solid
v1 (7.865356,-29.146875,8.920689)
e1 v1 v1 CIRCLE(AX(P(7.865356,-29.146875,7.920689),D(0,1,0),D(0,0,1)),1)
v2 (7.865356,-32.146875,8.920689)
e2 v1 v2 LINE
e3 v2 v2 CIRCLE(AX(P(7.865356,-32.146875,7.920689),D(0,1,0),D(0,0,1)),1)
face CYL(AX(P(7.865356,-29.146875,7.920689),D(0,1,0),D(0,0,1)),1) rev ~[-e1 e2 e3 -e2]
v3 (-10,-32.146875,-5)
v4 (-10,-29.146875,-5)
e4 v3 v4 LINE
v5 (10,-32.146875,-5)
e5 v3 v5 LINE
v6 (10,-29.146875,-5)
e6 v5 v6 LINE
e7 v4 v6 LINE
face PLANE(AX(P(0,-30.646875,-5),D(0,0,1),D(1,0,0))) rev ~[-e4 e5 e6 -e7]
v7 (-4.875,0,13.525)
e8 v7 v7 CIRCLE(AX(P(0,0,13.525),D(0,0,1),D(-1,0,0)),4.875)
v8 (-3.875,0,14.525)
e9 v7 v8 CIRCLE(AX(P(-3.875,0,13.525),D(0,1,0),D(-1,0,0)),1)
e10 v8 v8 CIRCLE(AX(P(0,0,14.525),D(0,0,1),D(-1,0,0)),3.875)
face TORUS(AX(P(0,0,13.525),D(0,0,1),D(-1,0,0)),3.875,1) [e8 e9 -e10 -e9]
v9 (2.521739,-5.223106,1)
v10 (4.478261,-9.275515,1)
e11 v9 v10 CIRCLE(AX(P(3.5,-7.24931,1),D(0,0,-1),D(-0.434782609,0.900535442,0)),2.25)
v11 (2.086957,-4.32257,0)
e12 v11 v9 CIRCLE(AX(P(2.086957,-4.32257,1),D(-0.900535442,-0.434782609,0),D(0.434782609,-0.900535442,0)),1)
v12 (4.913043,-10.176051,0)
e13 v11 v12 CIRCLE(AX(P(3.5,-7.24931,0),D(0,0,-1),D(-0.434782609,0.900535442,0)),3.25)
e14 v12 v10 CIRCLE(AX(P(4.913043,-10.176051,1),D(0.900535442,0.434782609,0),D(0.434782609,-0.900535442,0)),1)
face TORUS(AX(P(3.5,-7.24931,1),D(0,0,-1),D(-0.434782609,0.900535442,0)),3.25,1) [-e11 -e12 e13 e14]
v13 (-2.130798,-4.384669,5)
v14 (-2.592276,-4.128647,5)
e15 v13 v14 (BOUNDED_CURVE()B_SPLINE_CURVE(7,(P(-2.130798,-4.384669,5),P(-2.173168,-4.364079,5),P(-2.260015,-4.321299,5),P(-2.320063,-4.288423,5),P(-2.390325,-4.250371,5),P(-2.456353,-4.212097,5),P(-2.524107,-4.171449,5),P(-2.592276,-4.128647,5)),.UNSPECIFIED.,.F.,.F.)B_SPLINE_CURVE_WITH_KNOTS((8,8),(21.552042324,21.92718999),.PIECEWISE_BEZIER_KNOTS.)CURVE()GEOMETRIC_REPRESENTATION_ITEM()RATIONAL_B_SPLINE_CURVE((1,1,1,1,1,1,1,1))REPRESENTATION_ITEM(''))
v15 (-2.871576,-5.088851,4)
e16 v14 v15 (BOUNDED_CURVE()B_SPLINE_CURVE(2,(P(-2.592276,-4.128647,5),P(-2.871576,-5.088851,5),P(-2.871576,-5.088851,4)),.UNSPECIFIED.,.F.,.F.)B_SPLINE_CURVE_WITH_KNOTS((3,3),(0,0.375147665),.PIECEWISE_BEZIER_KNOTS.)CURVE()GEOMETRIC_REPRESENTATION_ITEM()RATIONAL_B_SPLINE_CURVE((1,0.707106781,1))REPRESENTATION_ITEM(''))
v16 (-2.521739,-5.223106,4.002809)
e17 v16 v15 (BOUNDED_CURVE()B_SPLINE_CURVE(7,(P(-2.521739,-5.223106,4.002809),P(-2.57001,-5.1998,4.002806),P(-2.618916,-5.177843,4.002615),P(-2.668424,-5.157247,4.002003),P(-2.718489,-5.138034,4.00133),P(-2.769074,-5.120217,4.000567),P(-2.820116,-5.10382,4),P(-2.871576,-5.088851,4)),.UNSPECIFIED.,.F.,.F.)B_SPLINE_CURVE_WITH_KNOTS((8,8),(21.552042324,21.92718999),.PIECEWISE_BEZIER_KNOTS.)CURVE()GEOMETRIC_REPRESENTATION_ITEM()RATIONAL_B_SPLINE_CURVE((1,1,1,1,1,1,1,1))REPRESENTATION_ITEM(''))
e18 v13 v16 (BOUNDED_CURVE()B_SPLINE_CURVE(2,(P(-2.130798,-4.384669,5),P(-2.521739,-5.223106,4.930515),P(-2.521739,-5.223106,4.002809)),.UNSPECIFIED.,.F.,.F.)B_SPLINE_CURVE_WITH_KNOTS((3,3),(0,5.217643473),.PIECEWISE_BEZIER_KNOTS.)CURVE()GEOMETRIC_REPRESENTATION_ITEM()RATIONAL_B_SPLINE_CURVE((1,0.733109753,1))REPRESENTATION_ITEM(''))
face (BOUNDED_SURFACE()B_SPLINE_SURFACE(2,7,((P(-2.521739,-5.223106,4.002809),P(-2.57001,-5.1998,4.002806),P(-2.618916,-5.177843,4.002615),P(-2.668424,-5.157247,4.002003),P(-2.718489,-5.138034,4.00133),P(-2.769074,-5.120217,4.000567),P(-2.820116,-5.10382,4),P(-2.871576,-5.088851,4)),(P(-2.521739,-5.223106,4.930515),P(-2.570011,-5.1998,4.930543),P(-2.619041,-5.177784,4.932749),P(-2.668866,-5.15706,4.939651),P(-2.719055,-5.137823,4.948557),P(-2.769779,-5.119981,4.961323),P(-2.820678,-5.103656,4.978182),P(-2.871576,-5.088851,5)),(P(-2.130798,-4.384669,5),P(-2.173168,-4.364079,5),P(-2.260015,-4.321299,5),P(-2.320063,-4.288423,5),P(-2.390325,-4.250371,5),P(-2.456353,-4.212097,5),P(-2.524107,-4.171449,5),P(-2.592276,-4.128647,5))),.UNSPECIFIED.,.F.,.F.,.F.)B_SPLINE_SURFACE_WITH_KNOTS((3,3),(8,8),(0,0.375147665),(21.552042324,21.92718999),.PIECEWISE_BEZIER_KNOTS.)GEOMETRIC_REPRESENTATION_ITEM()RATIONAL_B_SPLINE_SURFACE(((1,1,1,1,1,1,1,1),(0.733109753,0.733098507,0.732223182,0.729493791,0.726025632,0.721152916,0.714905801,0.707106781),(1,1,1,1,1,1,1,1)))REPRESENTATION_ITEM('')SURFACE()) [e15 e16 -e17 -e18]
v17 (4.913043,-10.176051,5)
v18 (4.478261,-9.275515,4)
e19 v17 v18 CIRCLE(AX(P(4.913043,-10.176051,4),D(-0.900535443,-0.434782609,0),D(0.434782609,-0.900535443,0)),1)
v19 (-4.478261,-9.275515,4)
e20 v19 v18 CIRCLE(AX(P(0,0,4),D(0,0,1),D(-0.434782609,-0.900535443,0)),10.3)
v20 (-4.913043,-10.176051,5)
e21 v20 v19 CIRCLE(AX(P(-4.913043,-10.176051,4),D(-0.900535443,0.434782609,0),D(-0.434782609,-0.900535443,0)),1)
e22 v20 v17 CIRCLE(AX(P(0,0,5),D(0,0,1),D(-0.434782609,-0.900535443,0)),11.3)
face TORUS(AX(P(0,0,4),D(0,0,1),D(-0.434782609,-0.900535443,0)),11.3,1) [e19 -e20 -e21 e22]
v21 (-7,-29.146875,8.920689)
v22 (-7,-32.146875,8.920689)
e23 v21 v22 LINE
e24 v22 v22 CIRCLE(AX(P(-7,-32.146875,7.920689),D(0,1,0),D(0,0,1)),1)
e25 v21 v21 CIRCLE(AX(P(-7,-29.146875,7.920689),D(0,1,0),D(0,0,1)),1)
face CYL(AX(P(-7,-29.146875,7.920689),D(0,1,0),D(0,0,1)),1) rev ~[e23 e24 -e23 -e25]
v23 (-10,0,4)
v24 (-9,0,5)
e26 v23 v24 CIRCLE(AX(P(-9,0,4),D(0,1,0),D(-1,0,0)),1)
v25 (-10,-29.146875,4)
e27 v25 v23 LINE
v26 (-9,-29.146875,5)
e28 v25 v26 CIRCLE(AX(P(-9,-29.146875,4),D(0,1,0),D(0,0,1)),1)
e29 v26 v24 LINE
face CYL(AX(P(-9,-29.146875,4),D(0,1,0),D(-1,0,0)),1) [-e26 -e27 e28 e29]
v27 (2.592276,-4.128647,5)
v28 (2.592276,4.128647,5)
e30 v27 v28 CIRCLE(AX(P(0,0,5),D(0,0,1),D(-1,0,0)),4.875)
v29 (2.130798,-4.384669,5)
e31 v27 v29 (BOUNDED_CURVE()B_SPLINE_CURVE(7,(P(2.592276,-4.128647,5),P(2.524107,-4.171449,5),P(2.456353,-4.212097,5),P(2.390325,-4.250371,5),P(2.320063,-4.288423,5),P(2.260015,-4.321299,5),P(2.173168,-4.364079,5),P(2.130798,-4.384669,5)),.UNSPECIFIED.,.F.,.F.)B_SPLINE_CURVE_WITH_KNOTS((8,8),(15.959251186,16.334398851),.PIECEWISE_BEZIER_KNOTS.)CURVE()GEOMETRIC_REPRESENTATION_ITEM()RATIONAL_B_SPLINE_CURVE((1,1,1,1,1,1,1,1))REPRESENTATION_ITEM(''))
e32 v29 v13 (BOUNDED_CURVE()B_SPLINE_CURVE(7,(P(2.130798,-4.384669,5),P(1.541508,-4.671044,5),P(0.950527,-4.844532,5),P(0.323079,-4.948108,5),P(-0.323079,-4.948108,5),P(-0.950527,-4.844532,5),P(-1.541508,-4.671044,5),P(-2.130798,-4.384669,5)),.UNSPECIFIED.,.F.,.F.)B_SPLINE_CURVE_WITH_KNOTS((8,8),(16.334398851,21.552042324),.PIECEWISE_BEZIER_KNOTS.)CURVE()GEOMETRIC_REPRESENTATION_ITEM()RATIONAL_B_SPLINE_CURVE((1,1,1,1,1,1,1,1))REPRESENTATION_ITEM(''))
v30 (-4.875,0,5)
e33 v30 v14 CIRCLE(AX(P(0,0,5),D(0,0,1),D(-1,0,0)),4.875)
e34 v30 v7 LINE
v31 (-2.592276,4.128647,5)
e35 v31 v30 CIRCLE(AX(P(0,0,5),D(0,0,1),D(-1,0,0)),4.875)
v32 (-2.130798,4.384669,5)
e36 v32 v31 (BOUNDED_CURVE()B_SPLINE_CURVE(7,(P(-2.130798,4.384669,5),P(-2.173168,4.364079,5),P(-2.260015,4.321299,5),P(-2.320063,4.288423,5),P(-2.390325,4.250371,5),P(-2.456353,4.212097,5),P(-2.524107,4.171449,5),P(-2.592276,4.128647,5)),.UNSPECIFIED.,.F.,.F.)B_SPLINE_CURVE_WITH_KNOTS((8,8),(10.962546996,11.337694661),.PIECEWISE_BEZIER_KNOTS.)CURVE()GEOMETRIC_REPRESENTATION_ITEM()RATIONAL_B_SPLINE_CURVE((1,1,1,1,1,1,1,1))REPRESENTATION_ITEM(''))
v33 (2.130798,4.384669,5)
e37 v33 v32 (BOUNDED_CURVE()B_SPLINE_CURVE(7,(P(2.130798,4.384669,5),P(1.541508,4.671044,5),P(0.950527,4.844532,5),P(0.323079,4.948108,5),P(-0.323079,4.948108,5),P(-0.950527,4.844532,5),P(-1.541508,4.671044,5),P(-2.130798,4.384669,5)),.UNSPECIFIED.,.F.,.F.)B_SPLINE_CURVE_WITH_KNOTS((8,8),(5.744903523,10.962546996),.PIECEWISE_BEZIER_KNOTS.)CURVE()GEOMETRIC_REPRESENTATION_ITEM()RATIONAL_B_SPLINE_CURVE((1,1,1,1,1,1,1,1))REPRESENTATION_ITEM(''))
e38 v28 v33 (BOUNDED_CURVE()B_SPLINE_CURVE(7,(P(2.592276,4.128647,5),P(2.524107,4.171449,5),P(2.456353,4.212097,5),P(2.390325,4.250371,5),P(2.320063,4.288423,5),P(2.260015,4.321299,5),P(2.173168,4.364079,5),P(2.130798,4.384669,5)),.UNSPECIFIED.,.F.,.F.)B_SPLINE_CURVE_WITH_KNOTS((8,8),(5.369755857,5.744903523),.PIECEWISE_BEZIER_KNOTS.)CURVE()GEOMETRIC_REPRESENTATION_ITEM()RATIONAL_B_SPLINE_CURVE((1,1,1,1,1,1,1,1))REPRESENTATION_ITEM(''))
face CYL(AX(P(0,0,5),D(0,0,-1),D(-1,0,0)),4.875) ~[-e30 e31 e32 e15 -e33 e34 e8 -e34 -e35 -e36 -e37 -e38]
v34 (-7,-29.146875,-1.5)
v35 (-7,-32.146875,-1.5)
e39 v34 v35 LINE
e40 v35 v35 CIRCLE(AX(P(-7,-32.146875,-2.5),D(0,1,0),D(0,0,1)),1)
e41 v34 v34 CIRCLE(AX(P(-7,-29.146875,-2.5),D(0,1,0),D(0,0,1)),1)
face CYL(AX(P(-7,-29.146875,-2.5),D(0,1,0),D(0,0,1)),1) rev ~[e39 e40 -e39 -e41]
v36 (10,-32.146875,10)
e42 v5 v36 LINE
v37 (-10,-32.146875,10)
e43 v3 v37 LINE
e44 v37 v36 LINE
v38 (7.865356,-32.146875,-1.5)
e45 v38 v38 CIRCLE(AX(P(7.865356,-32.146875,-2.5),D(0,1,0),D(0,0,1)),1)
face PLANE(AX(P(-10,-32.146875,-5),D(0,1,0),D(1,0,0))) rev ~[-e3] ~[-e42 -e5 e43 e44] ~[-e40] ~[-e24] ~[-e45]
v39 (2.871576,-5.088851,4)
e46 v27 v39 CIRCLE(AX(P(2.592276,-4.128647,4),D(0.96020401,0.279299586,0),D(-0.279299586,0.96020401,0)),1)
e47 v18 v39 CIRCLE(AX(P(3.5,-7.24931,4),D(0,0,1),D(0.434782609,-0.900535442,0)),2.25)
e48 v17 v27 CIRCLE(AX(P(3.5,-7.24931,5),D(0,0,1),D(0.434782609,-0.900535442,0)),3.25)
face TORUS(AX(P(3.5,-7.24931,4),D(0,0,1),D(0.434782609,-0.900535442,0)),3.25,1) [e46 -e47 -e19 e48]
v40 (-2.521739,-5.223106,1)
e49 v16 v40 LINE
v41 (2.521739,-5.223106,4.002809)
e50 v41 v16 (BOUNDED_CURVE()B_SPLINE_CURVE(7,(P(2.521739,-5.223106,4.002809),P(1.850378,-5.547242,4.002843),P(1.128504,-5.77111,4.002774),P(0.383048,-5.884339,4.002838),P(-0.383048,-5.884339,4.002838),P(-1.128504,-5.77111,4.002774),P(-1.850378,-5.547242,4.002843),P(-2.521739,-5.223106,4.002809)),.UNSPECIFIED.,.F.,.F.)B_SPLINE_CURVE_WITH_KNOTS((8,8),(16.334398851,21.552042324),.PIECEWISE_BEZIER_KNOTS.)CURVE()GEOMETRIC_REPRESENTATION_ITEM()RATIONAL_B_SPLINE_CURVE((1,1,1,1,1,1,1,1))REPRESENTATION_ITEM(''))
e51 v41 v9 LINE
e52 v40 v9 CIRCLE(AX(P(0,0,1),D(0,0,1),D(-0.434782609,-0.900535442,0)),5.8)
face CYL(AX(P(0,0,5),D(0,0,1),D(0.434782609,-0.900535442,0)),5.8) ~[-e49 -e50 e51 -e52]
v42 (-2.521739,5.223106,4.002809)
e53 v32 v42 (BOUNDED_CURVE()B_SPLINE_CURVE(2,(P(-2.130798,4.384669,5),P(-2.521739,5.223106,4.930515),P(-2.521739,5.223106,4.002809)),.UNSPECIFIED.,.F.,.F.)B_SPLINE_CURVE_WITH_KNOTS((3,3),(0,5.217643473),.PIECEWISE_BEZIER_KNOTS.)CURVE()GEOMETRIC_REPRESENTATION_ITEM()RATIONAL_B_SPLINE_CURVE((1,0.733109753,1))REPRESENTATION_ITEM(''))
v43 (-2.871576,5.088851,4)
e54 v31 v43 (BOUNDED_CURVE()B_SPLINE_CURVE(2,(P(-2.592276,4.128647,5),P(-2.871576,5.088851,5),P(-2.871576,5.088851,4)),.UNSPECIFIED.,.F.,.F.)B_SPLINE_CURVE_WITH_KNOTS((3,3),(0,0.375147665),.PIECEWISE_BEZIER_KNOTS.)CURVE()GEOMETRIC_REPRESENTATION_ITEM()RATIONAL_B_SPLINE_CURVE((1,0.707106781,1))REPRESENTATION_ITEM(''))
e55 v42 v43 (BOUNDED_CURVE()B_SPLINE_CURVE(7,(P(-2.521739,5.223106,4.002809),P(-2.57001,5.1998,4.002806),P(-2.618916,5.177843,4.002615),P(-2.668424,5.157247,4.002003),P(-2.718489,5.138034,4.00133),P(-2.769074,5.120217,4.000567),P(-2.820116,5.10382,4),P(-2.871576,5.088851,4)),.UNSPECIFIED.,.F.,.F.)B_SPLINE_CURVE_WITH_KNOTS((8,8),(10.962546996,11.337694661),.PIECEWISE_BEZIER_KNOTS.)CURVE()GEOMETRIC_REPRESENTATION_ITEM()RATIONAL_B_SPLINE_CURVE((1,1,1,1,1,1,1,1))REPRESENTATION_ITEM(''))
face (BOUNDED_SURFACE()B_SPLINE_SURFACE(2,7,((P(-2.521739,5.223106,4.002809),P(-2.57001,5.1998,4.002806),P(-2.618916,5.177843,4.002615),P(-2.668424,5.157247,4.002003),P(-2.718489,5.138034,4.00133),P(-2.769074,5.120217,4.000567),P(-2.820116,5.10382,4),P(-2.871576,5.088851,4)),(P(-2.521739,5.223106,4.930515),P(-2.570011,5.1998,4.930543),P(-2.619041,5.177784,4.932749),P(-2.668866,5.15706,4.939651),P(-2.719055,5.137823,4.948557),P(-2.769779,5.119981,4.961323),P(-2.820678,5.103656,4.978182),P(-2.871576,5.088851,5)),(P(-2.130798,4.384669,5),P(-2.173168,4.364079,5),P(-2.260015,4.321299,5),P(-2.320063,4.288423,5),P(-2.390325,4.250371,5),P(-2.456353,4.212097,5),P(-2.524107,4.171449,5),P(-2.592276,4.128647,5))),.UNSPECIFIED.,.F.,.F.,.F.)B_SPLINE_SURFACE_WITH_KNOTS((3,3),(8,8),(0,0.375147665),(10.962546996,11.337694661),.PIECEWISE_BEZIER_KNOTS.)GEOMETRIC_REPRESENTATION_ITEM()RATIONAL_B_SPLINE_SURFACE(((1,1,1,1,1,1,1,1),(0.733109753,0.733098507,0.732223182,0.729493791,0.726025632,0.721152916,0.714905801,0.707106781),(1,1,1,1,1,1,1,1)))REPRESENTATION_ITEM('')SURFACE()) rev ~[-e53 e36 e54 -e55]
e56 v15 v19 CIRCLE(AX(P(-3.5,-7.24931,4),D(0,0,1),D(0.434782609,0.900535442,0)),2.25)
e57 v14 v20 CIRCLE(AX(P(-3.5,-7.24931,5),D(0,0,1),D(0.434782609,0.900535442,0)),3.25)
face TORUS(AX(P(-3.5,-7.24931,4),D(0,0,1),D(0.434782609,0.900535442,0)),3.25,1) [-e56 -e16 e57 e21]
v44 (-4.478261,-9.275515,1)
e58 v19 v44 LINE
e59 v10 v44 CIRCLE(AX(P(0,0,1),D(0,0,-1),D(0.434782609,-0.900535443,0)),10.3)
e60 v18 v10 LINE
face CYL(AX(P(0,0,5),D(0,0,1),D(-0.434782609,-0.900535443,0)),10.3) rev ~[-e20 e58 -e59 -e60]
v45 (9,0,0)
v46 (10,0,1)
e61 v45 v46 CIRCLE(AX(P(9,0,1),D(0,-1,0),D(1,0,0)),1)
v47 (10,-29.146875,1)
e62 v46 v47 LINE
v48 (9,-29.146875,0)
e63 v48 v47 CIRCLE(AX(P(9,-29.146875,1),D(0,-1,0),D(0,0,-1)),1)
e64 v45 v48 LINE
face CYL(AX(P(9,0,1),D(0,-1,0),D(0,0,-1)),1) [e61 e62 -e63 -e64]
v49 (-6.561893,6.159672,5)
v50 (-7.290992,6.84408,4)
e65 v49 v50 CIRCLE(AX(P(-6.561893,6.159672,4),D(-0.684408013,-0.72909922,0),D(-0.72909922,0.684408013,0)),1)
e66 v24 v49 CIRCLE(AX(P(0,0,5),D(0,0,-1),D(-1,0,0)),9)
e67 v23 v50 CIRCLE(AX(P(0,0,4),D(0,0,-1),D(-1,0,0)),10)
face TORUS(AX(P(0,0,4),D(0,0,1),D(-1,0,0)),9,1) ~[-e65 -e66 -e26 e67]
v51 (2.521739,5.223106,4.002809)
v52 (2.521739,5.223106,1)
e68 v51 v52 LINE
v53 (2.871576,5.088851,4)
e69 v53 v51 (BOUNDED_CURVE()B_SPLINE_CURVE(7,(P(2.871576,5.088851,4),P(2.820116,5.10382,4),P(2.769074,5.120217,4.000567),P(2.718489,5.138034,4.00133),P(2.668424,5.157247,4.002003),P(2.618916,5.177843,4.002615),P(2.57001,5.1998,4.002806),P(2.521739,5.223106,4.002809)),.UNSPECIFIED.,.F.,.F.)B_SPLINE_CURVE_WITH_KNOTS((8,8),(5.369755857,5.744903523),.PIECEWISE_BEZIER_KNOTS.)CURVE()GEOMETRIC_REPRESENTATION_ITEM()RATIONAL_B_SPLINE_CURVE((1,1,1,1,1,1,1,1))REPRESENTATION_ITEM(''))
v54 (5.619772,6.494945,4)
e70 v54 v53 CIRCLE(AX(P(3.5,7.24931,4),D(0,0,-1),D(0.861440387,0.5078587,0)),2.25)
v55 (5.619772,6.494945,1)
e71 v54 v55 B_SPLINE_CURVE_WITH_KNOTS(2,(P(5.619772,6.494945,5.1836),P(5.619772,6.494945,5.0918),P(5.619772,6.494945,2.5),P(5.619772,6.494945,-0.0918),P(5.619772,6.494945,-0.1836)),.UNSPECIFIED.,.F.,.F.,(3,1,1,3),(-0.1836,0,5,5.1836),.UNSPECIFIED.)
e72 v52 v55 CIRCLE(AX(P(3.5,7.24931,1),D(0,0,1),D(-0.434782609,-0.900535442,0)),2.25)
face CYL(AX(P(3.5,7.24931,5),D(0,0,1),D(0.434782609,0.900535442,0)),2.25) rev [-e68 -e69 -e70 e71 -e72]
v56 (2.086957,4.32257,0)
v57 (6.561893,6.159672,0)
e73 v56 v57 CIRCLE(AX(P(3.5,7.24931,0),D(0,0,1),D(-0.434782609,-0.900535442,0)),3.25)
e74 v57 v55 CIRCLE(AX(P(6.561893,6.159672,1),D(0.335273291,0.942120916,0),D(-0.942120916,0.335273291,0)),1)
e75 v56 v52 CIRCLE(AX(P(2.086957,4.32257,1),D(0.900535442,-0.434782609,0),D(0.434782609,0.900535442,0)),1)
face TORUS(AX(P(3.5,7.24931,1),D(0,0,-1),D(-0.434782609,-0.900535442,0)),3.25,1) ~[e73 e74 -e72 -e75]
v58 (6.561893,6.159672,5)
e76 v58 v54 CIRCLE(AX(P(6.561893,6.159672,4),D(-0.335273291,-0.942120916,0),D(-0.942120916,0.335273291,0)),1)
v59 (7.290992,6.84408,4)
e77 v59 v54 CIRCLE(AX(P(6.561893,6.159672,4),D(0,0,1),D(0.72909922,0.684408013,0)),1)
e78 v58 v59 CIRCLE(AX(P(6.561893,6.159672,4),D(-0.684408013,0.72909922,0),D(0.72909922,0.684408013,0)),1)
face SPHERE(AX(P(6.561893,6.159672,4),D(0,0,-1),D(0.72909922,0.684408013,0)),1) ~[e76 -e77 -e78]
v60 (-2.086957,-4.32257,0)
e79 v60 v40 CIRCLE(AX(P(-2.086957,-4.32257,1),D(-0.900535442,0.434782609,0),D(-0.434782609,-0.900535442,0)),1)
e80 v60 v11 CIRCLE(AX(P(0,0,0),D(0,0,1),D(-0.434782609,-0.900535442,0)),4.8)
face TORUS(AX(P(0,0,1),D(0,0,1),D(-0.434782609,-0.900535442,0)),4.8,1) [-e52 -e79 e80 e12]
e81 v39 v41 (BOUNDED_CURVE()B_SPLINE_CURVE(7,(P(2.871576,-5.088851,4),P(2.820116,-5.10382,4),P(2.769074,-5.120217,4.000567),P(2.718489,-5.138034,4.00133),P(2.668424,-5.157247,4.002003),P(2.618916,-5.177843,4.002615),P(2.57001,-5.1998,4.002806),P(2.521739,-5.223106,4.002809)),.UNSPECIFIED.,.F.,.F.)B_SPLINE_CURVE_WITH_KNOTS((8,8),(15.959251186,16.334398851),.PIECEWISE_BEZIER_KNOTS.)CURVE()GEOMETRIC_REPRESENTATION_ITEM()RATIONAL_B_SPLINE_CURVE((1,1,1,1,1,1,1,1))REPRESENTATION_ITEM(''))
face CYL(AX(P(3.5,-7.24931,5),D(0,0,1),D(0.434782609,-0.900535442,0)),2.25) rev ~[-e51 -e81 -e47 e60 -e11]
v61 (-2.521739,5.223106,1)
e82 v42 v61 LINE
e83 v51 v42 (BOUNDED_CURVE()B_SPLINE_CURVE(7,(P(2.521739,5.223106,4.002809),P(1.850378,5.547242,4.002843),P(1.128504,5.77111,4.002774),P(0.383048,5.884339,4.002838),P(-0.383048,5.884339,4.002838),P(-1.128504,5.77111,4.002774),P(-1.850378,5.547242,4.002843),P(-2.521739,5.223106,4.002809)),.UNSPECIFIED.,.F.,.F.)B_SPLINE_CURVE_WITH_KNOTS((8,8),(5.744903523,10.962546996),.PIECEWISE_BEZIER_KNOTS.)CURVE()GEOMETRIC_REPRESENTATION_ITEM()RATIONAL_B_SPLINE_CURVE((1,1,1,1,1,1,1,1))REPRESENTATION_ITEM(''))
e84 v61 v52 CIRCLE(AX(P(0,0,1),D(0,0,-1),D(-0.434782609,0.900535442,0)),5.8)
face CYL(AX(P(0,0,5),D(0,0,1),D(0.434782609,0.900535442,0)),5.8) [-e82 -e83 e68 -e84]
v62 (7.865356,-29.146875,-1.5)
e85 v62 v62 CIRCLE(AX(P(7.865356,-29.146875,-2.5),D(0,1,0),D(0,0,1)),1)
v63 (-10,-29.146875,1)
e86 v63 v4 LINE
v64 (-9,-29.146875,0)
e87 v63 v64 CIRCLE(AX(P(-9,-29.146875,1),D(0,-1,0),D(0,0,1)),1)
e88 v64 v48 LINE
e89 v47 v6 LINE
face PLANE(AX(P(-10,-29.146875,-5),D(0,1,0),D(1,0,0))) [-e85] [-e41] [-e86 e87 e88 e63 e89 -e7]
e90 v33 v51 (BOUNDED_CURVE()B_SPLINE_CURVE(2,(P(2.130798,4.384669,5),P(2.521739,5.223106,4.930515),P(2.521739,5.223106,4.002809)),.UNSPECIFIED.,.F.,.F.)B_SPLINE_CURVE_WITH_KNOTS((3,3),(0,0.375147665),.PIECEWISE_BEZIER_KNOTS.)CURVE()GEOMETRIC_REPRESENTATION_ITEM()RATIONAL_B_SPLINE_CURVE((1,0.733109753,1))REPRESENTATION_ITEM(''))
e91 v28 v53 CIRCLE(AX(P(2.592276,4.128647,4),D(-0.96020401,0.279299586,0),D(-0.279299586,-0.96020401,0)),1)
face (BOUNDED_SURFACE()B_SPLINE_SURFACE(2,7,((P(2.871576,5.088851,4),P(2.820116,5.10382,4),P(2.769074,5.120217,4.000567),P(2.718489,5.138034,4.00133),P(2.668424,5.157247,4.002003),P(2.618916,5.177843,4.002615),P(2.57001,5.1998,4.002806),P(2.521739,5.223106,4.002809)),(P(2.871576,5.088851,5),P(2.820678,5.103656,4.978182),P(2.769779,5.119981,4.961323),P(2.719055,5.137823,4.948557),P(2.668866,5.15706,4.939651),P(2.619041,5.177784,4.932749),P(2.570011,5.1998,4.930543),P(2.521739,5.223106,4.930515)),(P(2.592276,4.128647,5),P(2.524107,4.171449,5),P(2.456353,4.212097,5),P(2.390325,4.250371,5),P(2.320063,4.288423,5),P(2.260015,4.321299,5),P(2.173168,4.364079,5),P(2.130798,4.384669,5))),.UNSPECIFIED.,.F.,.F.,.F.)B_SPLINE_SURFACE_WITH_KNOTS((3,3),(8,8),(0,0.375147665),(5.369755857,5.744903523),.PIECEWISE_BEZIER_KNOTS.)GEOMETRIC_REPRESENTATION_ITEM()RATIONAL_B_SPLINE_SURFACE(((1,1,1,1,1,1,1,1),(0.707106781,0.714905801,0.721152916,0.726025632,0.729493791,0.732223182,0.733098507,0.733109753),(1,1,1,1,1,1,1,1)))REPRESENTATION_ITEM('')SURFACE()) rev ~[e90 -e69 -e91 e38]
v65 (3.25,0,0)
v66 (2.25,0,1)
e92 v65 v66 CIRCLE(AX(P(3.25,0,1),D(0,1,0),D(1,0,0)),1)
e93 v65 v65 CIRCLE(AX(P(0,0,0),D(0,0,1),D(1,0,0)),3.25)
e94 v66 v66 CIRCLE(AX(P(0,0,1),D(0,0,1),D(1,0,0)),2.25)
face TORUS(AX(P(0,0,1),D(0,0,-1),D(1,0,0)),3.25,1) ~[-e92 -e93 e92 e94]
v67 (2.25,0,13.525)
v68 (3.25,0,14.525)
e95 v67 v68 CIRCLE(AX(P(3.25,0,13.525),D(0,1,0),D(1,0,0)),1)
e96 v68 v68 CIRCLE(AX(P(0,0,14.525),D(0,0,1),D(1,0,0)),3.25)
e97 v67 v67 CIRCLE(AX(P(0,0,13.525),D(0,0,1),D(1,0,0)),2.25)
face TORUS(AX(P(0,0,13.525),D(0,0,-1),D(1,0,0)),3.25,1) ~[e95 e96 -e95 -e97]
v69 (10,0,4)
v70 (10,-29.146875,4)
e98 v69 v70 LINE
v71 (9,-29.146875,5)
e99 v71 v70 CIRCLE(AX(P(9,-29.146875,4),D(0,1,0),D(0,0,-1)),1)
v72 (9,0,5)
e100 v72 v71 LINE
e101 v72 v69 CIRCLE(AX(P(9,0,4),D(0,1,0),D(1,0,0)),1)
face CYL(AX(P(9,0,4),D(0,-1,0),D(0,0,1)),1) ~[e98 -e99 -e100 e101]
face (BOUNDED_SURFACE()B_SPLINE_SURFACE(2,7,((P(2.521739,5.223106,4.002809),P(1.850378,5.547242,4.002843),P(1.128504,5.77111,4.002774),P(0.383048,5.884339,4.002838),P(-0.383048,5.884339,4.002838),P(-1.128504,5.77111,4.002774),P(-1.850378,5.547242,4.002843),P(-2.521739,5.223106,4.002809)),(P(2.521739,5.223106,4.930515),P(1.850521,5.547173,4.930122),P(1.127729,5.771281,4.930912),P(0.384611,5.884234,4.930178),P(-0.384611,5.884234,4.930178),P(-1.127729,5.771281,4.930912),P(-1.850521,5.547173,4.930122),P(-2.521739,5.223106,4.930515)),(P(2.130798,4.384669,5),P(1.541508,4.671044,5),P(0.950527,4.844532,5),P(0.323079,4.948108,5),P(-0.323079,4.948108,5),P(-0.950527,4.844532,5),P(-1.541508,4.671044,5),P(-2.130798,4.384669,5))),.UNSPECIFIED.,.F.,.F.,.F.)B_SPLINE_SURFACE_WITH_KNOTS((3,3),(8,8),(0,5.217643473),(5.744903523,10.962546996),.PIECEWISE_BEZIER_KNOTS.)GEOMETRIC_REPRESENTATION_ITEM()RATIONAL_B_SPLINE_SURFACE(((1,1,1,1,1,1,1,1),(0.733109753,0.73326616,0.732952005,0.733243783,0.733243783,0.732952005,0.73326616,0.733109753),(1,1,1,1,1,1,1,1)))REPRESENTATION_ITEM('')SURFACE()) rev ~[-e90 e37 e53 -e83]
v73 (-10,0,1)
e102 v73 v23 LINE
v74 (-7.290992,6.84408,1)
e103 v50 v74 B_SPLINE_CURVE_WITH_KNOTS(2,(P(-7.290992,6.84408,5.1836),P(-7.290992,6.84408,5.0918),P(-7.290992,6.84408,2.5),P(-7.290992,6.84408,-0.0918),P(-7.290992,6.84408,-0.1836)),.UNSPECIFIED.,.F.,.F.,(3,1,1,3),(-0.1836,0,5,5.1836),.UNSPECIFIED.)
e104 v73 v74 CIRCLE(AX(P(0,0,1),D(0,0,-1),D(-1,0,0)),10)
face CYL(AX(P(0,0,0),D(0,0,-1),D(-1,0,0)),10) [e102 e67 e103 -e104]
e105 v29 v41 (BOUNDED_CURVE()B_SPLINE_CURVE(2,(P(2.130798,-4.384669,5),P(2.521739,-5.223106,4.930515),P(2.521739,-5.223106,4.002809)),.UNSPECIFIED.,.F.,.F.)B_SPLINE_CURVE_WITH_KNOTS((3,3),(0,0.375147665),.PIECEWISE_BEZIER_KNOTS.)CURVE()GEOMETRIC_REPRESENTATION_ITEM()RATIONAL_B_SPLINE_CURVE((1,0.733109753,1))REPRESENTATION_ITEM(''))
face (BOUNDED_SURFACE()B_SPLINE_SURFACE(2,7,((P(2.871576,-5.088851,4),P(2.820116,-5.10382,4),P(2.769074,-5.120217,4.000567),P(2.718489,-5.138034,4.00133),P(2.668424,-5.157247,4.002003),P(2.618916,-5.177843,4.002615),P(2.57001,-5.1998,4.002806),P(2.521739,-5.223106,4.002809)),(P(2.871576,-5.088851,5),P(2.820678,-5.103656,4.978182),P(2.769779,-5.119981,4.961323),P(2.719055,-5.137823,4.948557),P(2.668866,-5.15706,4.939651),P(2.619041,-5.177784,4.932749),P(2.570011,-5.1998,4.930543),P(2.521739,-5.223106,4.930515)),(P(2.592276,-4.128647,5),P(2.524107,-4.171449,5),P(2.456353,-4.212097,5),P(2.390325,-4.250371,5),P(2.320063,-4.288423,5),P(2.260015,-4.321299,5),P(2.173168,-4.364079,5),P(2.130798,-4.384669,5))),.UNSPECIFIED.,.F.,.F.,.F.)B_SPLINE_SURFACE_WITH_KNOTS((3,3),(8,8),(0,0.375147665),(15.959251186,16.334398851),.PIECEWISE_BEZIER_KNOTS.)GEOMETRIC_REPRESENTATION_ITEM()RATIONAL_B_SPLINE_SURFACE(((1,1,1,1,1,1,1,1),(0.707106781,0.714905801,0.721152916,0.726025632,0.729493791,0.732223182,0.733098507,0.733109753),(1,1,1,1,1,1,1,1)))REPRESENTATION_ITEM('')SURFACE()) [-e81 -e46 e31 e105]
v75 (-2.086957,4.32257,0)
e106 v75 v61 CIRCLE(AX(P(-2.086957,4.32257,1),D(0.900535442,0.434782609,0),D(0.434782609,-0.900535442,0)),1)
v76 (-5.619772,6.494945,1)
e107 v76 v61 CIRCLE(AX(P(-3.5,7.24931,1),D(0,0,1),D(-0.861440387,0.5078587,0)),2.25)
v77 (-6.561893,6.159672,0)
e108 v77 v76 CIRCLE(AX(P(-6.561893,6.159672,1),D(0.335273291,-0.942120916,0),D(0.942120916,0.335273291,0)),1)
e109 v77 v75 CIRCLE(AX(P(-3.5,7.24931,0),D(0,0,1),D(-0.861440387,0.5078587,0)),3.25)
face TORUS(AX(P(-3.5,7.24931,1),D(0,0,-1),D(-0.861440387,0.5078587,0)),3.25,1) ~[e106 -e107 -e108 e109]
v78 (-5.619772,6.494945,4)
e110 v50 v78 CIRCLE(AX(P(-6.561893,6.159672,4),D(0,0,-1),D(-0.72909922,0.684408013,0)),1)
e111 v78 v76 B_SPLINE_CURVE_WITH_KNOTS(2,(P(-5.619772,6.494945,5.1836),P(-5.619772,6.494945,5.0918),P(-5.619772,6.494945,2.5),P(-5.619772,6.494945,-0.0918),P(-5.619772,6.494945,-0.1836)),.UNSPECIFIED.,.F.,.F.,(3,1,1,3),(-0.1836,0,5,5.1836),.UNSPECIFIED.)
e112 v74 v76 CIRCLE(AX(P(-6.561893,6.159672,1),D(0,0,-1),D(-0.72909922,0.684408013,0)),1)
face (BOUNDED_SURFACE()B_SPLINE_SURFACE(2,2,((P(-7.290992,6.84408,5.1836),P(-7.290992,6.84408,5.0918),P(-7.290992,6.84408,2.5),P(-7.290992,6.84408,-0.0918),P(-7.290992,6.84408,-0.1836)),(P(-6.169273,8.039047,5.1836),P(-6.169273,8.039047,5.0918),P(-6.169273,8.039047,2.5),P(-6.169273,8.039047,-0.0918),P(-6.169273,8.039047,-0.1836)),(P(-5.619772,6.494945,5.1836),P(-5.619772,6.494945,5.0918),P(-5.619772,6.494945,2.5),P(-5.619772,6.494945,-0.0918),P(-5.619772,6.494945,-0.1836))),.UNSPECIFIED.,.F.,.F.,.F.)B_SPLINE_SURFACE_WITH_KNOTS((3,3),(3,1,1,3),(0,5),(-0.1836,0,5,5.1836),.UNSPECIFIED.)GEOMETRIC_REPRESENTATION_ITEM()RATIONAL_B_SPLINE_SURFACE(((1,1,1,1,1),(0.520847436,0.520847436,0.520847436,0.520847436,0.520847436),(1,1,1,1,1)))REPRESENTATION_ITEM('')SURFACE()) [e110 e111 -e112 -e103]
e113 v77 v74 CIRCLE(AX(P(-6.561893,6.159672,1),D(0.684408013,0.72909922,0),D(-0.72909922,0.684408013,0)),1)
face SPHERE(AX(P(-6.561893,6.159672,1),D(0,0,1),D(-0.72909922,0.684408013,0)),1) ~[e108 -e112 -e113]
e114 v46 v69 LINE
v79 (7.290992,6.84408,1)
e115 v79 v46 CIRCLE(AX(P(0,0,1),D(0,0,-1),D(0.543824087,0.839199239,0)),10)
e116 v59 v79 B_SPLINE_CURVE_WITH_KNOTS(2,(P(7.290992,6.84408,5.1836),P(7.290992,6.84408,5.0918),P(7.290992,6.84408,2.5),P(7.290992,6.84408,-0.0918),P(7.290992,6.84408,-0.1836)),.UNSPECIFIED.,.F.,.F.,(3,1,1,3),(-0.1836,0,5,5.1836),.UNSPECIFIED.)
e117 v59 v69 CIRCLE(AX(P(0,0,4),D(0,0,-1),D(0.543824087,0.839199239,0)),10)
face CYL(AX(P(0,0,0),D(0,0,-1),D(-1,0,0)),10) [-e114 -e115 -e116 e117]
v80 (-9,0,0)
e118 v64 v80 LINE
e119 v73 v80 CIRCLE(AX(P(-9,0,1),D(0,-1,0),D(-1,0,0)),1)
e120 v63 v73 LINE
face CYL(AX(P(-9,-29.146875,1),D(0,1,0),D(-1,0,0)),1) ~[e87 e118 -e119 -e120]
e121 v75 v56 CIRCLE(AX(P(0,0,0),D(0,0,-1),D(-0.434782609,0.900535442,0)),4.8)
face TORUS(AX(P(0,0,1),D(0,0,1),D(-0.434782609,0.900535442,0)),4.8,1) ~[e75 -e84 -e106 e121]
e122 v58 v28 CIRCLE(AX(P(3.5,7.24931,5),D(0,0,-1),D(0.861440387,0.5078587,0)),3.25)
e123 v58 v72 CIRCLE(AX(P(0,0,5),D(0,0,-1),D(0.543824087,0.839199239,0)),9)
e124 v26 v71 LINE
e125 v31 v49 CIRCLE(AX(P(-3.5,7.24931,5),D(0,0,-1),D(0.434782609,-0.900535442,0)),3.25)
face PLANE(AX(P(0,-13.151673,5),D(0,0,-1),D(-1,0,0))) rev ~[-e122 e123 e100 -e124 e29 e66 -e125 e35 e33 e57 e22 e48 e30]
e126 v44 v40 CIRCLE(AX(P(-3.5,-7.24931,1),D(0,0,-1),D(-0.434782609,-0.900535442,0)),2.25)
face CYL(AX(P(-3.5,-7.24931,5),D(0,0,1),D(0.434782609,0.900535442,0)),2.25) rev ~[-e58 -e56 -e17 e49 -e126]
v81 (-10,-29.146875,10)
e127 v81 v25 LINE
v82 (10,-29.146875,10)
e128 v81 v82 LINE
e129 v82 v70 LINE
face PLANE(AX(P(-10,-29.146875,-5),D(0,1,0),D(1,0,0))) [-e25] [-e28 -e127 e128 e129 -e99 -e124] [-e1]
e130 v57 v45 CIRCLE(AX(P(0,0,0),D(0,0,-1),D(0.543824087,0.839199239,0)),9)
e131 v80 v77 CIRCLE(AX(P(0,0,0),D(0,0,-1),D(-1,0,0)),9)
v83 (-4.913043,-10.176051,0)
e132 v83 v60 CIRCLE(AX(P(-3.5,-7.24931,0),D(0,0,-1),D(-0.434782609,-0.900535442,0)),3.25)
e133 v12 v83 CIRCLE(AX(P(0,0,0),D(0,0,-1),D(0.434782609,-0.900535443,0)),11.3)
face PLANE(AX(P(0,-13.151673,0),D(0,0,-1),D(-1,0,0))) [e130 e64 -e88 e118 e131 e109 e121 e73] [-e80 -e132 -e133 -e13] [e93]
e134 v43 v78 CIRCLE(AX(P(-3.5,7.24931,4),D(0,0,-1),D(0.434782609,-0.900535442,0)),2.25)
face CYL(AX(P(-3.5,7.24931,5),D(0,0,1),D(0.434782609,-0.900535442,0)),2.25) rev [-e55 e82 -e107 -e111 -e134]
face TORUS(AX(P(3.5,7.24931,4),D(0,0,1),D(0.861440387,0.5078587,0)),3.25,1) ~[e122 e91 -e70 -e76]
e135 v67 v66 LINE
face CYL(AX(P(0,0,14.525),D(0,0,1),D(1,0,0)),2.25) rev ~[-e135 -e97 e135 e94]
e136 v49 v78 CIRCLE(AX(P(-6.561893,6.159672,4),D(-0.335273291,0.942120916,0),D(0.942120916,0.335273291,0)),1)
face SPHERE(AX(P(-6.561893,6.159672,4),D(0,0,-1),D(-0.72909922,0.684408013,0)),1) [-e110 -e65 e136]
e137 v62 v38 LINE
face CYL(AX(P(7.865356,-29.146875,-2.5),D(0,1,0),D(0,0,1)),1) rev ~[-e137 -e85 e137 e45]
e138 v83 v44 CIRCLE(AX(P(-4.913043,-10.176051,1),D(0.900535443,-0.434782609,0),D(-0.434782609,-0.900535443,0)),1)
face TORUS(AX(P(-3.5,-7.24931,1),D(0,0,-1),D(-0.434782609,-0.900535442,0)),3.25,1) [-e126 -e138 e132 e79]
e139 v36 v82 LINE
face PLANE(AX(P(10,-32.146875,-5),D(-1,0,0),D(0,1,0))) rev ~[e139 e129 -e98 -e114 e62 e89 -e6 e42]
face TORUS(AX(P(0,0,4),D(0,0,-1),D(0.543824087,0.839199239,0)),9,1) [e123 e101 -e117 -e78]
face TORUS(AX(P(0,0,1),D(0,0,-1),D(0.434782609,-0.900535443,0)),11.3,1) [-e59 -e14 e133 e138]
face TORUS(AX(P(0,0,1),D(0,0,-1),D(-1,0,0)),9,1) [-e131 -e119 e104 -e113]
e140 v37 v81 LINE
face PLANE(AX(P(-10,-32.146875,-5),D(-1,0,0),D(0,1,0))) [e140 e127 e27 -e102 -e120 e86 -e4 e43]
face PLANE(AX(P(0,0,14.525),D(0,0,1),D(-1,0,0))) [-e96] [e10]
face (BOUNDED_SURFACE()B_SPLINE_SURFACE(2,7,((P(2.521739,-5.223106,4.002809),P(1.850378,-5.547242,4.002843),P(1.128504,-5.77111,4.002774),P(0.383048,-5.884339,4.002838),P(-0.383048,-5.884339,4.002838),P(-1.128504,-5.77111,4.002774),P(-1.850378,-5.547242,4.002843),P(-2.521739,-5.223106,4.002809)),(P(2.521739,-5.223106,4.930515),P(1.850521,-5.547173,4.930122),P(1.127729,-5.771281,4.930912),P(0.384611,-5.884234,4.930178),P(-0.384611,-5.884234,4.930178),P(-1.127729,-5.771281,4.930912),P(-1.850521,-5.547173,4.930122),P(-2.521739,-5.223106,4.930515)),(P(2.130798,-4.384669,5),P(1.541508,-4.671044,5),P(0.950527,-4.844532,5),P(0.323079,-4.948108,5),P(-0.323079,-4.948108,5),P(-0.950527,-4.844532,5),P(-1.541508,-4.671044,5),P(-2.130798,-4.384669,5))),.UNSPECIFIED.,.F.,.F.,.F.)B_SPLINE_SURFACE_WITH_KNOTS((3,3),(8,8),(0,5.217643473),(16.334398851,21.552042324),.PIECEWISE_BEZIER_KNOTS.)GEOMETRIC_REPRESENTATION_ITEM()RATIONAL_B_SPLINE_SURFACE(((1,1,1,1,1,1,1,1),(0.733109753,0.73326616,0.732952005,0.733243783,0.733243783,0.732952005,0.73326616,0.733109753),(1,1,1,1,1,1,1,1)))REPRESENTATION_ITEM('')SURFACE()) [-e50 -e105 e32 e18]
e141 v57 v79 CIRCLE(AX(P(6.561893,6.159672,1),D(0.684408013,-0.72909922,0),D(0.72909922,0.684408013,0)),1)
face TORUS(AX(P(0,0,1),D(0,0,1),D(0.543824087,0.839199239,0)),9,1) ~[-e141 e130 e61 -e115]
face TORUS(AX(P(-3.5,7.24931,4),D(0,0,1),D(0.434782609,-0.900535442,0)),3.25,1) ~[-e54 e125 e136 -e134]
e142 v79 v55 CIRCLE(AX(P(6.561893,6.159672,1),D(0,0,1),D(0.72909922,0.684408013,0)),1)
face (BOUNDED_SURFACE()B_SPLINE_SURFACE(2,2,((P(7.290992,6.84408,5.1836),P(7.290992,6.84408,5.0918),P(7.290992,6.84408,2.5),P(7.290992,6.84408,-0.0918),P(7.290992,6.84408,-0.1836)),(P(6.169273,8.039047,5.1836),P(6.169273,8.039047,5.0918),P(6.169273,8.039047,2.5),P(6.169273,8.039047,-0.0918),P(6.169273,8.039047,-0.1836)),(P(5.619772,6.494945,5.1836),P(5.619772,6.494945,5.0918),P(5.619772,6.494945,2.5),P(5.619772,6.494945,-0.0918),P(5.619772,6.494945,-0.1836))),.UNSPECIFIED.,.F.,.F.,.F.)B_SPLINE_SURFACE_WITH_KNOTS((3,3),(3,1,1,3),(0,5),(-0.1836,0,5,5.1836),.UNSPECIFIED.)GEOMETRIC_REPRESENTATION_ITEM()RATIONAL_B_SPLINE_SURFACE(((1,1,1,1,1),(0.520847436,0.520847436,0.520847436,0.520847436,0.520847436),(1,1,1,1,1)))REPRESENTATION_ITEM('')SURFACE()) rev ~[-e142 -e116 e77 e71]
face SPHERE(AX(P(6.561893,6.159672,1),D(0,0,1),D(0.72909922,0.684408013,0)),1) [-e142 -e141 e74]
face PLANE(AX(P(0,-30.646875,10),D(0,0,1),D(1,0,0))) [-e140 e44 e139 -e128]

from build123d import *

# Parameters (mm, degrees)
BOSS_EXTRU_1_DEPTH      = 5
BOSS_EXTRU_2_DEPTH      = 5
BOSS_EXTRU_2_DEPTH_BACK = 10
ESQUISSE3_W             = 20
ESQUISSE3_H             = 3
ESQUISSE4_R             = 1
ENL_V_MAT_EXTRU_2_DEPTH = 5
ESQUISSE2_R             = 4.875
BOSS_EXTRU_3_DEPTH      = 9.525
ENL_V_MAT_EXTRU_3_DEPTH = 36.120102111
CONG_1_R                = 1
ESQUISSE6_R             = 2.25
ENL_V_MAT_EXTRU_4_DEPTH = 39.918468614
CONG_2_R                = 1


with BuildPart() as part:
    # Esquisse1 → Boss.-Extru.1 (new body)
    with BuildSketch(Plane.XY):
        with BuildLine():
            Line((-10, -32.146875), (-10, 0))
            ThreePointArc((-10, 0), (0, 10), (10, 0))
            Line((10, 0), (10, -32.146875))
            Line((10, -32.146875), (-10, -32.146875))
        make_face()
    extrude(amount=BOSS_EXTRU_1_DEPTH)

    # Esquisse3 → Boss.-Extru.2 (add, two sides: drawn at the far end of the back side and taken through both)
    with BuildSketch(Plane.XY.offset(5).offset(-BOSS_EXTRU_2_DEPTH_BACK)):
        with Locations((0, -30.646875)):
            Rectangle(ESQUISSE3_W, ESQUISSE3_H)
    extrude(amount=BOSS_EXTRU_2_DEPTH + BOSS_EXTRU_2_DEPTH_BACK)

    # Esquisse4 → Enlèv. mat.-Extru.2 (cut)
    with BuildSketch(Plane(origin=(0, -29.146875, 0), x_dir=(1, 0, 0), z_dir=(0, 1, 0))):
        with Locations(Location((-7, -7.92068908, 0), (0, 0, 270))):
            Circle(ESQUISSE4_R)
        with Locations(Location((7.865355749, -7.92068908, 0), (0, 0, 270))):
            Circle(ESQUISSE4_R)
        with Locations(Location((7.865355749, 2.5, 0), (0, 0, 270))):
            Circle(ESQUISSE4_R)
        with Locations(Location((-7, 2.5, 0), (0, 0, 270))):
            Circle(ESQUISSE4_R)
    extrude(amount=-ENL_V_MAT_EXTRU_2_DEPTH, mode=Mode.SUBTRACT)

    # Esquisse2 → Boss.-Extru.3 (add)
    with BuildSketch(Plane.XY.offset(5)):
        with Locations(Location((0, 0, 0), (0, 0, 180))):
            Circle(ESQUISSE2_R)
    extrude(amount=BOSS_EXTRU_3_DEPTH)

    # Esquisse5 → Enlèv. mat.-Extru.3 (cut, through all)
    with BuildSketch(Plane.XY.offset(5)):
        with BuildLine():
            ThreePointArc((-4.47826087, -9.275515058), (0, -10.3), (4.47826087, -9.275515058))
            ThreePointArc((4.47826087, -9.275515058), (5.526204746, -6.271049442), (2.52173913, -5.223105566))
            ThreePointArc((2.52173913, -5.223105566), (0, -5.8), (-2.52173913, -5.223105566))
            ThreePointArc((-2.52173913, -5.223105566), (-5.526204746, -6.271049442), (-4.47826087, -9.275515058))
        make_face()
    enl_v_mat_extru_3 = extrude(amount=-ENL_V_MAT_EXTRU_3_DEPTH, mode=Mode.SUBTRACT)

    # Symétrie1: Enlèv. mat.-Extru.3 across plane
    add(enl_v_mat_extru_3.mirror(Plane.ZX), mode=Mode.SUBTRACT)

    # Congé1
    cong_1_edges = [part.edges().sort_by_distance(p)[0] for p in [
        (0, -10.3, 5),
        (-5.526204746, -6.271049442, 5),
        (0, -5.8, 0),
        (-5.526204746, -6.271049442, 0),
        (0, -10.3, 0),
        (10, -14.5734375, 0),
        (-10, -14.5734375, 0),
        (10, -14.5734375, 5),
        (-10, -14.5734375, 5),
        (5.526204746, -6.271049442, 5),
        (5.526204746, -6.271049442, 0),
        (-8.785852512, 4.775855488, 0),
        (8.785852512, 4.775855488, 0),
        (-8.785852512, 4.775855488, 5),
        (8.785852512, 4.775855488, 5),
        (4.875, 0, 14.525),
        (-5.155551667, 5.725614582, 0),
        (5.155551667, 5.725614582, 0),
        (5.155551667, 5.725614582, 5),
        (-5.155551667, 5.725614582, 5),
        (0, 5.8, 0),
        (5.438240871, 8.391992387, 2.5),
        (-5.438240871, 8.391992387, 2.5),
    ]]
    fillet(cong_1_edges, radius=CONG_1_R)

    # Esquisse6 → Enlèv. mat.-Extru.4 (cut, through all)
    with BuildSketch(Plane.XY.offset(14.525)):
        Circle(ESQUISSE6_R)
    extrude(amount=-ENL_V_MAT_EXTRU_4_DEPTH, mode=Mode.SUBTRACT)

    # Congé2
    cong_2_edges = [part.edges().sort_by_distance(p)[0] for p in [
        (-2.25, 0, 0),
        (-2.25, 0, 14.525),
    ]]
    fillet(cong_2_edges, radius=CONG_2_R)


solid = part.part
